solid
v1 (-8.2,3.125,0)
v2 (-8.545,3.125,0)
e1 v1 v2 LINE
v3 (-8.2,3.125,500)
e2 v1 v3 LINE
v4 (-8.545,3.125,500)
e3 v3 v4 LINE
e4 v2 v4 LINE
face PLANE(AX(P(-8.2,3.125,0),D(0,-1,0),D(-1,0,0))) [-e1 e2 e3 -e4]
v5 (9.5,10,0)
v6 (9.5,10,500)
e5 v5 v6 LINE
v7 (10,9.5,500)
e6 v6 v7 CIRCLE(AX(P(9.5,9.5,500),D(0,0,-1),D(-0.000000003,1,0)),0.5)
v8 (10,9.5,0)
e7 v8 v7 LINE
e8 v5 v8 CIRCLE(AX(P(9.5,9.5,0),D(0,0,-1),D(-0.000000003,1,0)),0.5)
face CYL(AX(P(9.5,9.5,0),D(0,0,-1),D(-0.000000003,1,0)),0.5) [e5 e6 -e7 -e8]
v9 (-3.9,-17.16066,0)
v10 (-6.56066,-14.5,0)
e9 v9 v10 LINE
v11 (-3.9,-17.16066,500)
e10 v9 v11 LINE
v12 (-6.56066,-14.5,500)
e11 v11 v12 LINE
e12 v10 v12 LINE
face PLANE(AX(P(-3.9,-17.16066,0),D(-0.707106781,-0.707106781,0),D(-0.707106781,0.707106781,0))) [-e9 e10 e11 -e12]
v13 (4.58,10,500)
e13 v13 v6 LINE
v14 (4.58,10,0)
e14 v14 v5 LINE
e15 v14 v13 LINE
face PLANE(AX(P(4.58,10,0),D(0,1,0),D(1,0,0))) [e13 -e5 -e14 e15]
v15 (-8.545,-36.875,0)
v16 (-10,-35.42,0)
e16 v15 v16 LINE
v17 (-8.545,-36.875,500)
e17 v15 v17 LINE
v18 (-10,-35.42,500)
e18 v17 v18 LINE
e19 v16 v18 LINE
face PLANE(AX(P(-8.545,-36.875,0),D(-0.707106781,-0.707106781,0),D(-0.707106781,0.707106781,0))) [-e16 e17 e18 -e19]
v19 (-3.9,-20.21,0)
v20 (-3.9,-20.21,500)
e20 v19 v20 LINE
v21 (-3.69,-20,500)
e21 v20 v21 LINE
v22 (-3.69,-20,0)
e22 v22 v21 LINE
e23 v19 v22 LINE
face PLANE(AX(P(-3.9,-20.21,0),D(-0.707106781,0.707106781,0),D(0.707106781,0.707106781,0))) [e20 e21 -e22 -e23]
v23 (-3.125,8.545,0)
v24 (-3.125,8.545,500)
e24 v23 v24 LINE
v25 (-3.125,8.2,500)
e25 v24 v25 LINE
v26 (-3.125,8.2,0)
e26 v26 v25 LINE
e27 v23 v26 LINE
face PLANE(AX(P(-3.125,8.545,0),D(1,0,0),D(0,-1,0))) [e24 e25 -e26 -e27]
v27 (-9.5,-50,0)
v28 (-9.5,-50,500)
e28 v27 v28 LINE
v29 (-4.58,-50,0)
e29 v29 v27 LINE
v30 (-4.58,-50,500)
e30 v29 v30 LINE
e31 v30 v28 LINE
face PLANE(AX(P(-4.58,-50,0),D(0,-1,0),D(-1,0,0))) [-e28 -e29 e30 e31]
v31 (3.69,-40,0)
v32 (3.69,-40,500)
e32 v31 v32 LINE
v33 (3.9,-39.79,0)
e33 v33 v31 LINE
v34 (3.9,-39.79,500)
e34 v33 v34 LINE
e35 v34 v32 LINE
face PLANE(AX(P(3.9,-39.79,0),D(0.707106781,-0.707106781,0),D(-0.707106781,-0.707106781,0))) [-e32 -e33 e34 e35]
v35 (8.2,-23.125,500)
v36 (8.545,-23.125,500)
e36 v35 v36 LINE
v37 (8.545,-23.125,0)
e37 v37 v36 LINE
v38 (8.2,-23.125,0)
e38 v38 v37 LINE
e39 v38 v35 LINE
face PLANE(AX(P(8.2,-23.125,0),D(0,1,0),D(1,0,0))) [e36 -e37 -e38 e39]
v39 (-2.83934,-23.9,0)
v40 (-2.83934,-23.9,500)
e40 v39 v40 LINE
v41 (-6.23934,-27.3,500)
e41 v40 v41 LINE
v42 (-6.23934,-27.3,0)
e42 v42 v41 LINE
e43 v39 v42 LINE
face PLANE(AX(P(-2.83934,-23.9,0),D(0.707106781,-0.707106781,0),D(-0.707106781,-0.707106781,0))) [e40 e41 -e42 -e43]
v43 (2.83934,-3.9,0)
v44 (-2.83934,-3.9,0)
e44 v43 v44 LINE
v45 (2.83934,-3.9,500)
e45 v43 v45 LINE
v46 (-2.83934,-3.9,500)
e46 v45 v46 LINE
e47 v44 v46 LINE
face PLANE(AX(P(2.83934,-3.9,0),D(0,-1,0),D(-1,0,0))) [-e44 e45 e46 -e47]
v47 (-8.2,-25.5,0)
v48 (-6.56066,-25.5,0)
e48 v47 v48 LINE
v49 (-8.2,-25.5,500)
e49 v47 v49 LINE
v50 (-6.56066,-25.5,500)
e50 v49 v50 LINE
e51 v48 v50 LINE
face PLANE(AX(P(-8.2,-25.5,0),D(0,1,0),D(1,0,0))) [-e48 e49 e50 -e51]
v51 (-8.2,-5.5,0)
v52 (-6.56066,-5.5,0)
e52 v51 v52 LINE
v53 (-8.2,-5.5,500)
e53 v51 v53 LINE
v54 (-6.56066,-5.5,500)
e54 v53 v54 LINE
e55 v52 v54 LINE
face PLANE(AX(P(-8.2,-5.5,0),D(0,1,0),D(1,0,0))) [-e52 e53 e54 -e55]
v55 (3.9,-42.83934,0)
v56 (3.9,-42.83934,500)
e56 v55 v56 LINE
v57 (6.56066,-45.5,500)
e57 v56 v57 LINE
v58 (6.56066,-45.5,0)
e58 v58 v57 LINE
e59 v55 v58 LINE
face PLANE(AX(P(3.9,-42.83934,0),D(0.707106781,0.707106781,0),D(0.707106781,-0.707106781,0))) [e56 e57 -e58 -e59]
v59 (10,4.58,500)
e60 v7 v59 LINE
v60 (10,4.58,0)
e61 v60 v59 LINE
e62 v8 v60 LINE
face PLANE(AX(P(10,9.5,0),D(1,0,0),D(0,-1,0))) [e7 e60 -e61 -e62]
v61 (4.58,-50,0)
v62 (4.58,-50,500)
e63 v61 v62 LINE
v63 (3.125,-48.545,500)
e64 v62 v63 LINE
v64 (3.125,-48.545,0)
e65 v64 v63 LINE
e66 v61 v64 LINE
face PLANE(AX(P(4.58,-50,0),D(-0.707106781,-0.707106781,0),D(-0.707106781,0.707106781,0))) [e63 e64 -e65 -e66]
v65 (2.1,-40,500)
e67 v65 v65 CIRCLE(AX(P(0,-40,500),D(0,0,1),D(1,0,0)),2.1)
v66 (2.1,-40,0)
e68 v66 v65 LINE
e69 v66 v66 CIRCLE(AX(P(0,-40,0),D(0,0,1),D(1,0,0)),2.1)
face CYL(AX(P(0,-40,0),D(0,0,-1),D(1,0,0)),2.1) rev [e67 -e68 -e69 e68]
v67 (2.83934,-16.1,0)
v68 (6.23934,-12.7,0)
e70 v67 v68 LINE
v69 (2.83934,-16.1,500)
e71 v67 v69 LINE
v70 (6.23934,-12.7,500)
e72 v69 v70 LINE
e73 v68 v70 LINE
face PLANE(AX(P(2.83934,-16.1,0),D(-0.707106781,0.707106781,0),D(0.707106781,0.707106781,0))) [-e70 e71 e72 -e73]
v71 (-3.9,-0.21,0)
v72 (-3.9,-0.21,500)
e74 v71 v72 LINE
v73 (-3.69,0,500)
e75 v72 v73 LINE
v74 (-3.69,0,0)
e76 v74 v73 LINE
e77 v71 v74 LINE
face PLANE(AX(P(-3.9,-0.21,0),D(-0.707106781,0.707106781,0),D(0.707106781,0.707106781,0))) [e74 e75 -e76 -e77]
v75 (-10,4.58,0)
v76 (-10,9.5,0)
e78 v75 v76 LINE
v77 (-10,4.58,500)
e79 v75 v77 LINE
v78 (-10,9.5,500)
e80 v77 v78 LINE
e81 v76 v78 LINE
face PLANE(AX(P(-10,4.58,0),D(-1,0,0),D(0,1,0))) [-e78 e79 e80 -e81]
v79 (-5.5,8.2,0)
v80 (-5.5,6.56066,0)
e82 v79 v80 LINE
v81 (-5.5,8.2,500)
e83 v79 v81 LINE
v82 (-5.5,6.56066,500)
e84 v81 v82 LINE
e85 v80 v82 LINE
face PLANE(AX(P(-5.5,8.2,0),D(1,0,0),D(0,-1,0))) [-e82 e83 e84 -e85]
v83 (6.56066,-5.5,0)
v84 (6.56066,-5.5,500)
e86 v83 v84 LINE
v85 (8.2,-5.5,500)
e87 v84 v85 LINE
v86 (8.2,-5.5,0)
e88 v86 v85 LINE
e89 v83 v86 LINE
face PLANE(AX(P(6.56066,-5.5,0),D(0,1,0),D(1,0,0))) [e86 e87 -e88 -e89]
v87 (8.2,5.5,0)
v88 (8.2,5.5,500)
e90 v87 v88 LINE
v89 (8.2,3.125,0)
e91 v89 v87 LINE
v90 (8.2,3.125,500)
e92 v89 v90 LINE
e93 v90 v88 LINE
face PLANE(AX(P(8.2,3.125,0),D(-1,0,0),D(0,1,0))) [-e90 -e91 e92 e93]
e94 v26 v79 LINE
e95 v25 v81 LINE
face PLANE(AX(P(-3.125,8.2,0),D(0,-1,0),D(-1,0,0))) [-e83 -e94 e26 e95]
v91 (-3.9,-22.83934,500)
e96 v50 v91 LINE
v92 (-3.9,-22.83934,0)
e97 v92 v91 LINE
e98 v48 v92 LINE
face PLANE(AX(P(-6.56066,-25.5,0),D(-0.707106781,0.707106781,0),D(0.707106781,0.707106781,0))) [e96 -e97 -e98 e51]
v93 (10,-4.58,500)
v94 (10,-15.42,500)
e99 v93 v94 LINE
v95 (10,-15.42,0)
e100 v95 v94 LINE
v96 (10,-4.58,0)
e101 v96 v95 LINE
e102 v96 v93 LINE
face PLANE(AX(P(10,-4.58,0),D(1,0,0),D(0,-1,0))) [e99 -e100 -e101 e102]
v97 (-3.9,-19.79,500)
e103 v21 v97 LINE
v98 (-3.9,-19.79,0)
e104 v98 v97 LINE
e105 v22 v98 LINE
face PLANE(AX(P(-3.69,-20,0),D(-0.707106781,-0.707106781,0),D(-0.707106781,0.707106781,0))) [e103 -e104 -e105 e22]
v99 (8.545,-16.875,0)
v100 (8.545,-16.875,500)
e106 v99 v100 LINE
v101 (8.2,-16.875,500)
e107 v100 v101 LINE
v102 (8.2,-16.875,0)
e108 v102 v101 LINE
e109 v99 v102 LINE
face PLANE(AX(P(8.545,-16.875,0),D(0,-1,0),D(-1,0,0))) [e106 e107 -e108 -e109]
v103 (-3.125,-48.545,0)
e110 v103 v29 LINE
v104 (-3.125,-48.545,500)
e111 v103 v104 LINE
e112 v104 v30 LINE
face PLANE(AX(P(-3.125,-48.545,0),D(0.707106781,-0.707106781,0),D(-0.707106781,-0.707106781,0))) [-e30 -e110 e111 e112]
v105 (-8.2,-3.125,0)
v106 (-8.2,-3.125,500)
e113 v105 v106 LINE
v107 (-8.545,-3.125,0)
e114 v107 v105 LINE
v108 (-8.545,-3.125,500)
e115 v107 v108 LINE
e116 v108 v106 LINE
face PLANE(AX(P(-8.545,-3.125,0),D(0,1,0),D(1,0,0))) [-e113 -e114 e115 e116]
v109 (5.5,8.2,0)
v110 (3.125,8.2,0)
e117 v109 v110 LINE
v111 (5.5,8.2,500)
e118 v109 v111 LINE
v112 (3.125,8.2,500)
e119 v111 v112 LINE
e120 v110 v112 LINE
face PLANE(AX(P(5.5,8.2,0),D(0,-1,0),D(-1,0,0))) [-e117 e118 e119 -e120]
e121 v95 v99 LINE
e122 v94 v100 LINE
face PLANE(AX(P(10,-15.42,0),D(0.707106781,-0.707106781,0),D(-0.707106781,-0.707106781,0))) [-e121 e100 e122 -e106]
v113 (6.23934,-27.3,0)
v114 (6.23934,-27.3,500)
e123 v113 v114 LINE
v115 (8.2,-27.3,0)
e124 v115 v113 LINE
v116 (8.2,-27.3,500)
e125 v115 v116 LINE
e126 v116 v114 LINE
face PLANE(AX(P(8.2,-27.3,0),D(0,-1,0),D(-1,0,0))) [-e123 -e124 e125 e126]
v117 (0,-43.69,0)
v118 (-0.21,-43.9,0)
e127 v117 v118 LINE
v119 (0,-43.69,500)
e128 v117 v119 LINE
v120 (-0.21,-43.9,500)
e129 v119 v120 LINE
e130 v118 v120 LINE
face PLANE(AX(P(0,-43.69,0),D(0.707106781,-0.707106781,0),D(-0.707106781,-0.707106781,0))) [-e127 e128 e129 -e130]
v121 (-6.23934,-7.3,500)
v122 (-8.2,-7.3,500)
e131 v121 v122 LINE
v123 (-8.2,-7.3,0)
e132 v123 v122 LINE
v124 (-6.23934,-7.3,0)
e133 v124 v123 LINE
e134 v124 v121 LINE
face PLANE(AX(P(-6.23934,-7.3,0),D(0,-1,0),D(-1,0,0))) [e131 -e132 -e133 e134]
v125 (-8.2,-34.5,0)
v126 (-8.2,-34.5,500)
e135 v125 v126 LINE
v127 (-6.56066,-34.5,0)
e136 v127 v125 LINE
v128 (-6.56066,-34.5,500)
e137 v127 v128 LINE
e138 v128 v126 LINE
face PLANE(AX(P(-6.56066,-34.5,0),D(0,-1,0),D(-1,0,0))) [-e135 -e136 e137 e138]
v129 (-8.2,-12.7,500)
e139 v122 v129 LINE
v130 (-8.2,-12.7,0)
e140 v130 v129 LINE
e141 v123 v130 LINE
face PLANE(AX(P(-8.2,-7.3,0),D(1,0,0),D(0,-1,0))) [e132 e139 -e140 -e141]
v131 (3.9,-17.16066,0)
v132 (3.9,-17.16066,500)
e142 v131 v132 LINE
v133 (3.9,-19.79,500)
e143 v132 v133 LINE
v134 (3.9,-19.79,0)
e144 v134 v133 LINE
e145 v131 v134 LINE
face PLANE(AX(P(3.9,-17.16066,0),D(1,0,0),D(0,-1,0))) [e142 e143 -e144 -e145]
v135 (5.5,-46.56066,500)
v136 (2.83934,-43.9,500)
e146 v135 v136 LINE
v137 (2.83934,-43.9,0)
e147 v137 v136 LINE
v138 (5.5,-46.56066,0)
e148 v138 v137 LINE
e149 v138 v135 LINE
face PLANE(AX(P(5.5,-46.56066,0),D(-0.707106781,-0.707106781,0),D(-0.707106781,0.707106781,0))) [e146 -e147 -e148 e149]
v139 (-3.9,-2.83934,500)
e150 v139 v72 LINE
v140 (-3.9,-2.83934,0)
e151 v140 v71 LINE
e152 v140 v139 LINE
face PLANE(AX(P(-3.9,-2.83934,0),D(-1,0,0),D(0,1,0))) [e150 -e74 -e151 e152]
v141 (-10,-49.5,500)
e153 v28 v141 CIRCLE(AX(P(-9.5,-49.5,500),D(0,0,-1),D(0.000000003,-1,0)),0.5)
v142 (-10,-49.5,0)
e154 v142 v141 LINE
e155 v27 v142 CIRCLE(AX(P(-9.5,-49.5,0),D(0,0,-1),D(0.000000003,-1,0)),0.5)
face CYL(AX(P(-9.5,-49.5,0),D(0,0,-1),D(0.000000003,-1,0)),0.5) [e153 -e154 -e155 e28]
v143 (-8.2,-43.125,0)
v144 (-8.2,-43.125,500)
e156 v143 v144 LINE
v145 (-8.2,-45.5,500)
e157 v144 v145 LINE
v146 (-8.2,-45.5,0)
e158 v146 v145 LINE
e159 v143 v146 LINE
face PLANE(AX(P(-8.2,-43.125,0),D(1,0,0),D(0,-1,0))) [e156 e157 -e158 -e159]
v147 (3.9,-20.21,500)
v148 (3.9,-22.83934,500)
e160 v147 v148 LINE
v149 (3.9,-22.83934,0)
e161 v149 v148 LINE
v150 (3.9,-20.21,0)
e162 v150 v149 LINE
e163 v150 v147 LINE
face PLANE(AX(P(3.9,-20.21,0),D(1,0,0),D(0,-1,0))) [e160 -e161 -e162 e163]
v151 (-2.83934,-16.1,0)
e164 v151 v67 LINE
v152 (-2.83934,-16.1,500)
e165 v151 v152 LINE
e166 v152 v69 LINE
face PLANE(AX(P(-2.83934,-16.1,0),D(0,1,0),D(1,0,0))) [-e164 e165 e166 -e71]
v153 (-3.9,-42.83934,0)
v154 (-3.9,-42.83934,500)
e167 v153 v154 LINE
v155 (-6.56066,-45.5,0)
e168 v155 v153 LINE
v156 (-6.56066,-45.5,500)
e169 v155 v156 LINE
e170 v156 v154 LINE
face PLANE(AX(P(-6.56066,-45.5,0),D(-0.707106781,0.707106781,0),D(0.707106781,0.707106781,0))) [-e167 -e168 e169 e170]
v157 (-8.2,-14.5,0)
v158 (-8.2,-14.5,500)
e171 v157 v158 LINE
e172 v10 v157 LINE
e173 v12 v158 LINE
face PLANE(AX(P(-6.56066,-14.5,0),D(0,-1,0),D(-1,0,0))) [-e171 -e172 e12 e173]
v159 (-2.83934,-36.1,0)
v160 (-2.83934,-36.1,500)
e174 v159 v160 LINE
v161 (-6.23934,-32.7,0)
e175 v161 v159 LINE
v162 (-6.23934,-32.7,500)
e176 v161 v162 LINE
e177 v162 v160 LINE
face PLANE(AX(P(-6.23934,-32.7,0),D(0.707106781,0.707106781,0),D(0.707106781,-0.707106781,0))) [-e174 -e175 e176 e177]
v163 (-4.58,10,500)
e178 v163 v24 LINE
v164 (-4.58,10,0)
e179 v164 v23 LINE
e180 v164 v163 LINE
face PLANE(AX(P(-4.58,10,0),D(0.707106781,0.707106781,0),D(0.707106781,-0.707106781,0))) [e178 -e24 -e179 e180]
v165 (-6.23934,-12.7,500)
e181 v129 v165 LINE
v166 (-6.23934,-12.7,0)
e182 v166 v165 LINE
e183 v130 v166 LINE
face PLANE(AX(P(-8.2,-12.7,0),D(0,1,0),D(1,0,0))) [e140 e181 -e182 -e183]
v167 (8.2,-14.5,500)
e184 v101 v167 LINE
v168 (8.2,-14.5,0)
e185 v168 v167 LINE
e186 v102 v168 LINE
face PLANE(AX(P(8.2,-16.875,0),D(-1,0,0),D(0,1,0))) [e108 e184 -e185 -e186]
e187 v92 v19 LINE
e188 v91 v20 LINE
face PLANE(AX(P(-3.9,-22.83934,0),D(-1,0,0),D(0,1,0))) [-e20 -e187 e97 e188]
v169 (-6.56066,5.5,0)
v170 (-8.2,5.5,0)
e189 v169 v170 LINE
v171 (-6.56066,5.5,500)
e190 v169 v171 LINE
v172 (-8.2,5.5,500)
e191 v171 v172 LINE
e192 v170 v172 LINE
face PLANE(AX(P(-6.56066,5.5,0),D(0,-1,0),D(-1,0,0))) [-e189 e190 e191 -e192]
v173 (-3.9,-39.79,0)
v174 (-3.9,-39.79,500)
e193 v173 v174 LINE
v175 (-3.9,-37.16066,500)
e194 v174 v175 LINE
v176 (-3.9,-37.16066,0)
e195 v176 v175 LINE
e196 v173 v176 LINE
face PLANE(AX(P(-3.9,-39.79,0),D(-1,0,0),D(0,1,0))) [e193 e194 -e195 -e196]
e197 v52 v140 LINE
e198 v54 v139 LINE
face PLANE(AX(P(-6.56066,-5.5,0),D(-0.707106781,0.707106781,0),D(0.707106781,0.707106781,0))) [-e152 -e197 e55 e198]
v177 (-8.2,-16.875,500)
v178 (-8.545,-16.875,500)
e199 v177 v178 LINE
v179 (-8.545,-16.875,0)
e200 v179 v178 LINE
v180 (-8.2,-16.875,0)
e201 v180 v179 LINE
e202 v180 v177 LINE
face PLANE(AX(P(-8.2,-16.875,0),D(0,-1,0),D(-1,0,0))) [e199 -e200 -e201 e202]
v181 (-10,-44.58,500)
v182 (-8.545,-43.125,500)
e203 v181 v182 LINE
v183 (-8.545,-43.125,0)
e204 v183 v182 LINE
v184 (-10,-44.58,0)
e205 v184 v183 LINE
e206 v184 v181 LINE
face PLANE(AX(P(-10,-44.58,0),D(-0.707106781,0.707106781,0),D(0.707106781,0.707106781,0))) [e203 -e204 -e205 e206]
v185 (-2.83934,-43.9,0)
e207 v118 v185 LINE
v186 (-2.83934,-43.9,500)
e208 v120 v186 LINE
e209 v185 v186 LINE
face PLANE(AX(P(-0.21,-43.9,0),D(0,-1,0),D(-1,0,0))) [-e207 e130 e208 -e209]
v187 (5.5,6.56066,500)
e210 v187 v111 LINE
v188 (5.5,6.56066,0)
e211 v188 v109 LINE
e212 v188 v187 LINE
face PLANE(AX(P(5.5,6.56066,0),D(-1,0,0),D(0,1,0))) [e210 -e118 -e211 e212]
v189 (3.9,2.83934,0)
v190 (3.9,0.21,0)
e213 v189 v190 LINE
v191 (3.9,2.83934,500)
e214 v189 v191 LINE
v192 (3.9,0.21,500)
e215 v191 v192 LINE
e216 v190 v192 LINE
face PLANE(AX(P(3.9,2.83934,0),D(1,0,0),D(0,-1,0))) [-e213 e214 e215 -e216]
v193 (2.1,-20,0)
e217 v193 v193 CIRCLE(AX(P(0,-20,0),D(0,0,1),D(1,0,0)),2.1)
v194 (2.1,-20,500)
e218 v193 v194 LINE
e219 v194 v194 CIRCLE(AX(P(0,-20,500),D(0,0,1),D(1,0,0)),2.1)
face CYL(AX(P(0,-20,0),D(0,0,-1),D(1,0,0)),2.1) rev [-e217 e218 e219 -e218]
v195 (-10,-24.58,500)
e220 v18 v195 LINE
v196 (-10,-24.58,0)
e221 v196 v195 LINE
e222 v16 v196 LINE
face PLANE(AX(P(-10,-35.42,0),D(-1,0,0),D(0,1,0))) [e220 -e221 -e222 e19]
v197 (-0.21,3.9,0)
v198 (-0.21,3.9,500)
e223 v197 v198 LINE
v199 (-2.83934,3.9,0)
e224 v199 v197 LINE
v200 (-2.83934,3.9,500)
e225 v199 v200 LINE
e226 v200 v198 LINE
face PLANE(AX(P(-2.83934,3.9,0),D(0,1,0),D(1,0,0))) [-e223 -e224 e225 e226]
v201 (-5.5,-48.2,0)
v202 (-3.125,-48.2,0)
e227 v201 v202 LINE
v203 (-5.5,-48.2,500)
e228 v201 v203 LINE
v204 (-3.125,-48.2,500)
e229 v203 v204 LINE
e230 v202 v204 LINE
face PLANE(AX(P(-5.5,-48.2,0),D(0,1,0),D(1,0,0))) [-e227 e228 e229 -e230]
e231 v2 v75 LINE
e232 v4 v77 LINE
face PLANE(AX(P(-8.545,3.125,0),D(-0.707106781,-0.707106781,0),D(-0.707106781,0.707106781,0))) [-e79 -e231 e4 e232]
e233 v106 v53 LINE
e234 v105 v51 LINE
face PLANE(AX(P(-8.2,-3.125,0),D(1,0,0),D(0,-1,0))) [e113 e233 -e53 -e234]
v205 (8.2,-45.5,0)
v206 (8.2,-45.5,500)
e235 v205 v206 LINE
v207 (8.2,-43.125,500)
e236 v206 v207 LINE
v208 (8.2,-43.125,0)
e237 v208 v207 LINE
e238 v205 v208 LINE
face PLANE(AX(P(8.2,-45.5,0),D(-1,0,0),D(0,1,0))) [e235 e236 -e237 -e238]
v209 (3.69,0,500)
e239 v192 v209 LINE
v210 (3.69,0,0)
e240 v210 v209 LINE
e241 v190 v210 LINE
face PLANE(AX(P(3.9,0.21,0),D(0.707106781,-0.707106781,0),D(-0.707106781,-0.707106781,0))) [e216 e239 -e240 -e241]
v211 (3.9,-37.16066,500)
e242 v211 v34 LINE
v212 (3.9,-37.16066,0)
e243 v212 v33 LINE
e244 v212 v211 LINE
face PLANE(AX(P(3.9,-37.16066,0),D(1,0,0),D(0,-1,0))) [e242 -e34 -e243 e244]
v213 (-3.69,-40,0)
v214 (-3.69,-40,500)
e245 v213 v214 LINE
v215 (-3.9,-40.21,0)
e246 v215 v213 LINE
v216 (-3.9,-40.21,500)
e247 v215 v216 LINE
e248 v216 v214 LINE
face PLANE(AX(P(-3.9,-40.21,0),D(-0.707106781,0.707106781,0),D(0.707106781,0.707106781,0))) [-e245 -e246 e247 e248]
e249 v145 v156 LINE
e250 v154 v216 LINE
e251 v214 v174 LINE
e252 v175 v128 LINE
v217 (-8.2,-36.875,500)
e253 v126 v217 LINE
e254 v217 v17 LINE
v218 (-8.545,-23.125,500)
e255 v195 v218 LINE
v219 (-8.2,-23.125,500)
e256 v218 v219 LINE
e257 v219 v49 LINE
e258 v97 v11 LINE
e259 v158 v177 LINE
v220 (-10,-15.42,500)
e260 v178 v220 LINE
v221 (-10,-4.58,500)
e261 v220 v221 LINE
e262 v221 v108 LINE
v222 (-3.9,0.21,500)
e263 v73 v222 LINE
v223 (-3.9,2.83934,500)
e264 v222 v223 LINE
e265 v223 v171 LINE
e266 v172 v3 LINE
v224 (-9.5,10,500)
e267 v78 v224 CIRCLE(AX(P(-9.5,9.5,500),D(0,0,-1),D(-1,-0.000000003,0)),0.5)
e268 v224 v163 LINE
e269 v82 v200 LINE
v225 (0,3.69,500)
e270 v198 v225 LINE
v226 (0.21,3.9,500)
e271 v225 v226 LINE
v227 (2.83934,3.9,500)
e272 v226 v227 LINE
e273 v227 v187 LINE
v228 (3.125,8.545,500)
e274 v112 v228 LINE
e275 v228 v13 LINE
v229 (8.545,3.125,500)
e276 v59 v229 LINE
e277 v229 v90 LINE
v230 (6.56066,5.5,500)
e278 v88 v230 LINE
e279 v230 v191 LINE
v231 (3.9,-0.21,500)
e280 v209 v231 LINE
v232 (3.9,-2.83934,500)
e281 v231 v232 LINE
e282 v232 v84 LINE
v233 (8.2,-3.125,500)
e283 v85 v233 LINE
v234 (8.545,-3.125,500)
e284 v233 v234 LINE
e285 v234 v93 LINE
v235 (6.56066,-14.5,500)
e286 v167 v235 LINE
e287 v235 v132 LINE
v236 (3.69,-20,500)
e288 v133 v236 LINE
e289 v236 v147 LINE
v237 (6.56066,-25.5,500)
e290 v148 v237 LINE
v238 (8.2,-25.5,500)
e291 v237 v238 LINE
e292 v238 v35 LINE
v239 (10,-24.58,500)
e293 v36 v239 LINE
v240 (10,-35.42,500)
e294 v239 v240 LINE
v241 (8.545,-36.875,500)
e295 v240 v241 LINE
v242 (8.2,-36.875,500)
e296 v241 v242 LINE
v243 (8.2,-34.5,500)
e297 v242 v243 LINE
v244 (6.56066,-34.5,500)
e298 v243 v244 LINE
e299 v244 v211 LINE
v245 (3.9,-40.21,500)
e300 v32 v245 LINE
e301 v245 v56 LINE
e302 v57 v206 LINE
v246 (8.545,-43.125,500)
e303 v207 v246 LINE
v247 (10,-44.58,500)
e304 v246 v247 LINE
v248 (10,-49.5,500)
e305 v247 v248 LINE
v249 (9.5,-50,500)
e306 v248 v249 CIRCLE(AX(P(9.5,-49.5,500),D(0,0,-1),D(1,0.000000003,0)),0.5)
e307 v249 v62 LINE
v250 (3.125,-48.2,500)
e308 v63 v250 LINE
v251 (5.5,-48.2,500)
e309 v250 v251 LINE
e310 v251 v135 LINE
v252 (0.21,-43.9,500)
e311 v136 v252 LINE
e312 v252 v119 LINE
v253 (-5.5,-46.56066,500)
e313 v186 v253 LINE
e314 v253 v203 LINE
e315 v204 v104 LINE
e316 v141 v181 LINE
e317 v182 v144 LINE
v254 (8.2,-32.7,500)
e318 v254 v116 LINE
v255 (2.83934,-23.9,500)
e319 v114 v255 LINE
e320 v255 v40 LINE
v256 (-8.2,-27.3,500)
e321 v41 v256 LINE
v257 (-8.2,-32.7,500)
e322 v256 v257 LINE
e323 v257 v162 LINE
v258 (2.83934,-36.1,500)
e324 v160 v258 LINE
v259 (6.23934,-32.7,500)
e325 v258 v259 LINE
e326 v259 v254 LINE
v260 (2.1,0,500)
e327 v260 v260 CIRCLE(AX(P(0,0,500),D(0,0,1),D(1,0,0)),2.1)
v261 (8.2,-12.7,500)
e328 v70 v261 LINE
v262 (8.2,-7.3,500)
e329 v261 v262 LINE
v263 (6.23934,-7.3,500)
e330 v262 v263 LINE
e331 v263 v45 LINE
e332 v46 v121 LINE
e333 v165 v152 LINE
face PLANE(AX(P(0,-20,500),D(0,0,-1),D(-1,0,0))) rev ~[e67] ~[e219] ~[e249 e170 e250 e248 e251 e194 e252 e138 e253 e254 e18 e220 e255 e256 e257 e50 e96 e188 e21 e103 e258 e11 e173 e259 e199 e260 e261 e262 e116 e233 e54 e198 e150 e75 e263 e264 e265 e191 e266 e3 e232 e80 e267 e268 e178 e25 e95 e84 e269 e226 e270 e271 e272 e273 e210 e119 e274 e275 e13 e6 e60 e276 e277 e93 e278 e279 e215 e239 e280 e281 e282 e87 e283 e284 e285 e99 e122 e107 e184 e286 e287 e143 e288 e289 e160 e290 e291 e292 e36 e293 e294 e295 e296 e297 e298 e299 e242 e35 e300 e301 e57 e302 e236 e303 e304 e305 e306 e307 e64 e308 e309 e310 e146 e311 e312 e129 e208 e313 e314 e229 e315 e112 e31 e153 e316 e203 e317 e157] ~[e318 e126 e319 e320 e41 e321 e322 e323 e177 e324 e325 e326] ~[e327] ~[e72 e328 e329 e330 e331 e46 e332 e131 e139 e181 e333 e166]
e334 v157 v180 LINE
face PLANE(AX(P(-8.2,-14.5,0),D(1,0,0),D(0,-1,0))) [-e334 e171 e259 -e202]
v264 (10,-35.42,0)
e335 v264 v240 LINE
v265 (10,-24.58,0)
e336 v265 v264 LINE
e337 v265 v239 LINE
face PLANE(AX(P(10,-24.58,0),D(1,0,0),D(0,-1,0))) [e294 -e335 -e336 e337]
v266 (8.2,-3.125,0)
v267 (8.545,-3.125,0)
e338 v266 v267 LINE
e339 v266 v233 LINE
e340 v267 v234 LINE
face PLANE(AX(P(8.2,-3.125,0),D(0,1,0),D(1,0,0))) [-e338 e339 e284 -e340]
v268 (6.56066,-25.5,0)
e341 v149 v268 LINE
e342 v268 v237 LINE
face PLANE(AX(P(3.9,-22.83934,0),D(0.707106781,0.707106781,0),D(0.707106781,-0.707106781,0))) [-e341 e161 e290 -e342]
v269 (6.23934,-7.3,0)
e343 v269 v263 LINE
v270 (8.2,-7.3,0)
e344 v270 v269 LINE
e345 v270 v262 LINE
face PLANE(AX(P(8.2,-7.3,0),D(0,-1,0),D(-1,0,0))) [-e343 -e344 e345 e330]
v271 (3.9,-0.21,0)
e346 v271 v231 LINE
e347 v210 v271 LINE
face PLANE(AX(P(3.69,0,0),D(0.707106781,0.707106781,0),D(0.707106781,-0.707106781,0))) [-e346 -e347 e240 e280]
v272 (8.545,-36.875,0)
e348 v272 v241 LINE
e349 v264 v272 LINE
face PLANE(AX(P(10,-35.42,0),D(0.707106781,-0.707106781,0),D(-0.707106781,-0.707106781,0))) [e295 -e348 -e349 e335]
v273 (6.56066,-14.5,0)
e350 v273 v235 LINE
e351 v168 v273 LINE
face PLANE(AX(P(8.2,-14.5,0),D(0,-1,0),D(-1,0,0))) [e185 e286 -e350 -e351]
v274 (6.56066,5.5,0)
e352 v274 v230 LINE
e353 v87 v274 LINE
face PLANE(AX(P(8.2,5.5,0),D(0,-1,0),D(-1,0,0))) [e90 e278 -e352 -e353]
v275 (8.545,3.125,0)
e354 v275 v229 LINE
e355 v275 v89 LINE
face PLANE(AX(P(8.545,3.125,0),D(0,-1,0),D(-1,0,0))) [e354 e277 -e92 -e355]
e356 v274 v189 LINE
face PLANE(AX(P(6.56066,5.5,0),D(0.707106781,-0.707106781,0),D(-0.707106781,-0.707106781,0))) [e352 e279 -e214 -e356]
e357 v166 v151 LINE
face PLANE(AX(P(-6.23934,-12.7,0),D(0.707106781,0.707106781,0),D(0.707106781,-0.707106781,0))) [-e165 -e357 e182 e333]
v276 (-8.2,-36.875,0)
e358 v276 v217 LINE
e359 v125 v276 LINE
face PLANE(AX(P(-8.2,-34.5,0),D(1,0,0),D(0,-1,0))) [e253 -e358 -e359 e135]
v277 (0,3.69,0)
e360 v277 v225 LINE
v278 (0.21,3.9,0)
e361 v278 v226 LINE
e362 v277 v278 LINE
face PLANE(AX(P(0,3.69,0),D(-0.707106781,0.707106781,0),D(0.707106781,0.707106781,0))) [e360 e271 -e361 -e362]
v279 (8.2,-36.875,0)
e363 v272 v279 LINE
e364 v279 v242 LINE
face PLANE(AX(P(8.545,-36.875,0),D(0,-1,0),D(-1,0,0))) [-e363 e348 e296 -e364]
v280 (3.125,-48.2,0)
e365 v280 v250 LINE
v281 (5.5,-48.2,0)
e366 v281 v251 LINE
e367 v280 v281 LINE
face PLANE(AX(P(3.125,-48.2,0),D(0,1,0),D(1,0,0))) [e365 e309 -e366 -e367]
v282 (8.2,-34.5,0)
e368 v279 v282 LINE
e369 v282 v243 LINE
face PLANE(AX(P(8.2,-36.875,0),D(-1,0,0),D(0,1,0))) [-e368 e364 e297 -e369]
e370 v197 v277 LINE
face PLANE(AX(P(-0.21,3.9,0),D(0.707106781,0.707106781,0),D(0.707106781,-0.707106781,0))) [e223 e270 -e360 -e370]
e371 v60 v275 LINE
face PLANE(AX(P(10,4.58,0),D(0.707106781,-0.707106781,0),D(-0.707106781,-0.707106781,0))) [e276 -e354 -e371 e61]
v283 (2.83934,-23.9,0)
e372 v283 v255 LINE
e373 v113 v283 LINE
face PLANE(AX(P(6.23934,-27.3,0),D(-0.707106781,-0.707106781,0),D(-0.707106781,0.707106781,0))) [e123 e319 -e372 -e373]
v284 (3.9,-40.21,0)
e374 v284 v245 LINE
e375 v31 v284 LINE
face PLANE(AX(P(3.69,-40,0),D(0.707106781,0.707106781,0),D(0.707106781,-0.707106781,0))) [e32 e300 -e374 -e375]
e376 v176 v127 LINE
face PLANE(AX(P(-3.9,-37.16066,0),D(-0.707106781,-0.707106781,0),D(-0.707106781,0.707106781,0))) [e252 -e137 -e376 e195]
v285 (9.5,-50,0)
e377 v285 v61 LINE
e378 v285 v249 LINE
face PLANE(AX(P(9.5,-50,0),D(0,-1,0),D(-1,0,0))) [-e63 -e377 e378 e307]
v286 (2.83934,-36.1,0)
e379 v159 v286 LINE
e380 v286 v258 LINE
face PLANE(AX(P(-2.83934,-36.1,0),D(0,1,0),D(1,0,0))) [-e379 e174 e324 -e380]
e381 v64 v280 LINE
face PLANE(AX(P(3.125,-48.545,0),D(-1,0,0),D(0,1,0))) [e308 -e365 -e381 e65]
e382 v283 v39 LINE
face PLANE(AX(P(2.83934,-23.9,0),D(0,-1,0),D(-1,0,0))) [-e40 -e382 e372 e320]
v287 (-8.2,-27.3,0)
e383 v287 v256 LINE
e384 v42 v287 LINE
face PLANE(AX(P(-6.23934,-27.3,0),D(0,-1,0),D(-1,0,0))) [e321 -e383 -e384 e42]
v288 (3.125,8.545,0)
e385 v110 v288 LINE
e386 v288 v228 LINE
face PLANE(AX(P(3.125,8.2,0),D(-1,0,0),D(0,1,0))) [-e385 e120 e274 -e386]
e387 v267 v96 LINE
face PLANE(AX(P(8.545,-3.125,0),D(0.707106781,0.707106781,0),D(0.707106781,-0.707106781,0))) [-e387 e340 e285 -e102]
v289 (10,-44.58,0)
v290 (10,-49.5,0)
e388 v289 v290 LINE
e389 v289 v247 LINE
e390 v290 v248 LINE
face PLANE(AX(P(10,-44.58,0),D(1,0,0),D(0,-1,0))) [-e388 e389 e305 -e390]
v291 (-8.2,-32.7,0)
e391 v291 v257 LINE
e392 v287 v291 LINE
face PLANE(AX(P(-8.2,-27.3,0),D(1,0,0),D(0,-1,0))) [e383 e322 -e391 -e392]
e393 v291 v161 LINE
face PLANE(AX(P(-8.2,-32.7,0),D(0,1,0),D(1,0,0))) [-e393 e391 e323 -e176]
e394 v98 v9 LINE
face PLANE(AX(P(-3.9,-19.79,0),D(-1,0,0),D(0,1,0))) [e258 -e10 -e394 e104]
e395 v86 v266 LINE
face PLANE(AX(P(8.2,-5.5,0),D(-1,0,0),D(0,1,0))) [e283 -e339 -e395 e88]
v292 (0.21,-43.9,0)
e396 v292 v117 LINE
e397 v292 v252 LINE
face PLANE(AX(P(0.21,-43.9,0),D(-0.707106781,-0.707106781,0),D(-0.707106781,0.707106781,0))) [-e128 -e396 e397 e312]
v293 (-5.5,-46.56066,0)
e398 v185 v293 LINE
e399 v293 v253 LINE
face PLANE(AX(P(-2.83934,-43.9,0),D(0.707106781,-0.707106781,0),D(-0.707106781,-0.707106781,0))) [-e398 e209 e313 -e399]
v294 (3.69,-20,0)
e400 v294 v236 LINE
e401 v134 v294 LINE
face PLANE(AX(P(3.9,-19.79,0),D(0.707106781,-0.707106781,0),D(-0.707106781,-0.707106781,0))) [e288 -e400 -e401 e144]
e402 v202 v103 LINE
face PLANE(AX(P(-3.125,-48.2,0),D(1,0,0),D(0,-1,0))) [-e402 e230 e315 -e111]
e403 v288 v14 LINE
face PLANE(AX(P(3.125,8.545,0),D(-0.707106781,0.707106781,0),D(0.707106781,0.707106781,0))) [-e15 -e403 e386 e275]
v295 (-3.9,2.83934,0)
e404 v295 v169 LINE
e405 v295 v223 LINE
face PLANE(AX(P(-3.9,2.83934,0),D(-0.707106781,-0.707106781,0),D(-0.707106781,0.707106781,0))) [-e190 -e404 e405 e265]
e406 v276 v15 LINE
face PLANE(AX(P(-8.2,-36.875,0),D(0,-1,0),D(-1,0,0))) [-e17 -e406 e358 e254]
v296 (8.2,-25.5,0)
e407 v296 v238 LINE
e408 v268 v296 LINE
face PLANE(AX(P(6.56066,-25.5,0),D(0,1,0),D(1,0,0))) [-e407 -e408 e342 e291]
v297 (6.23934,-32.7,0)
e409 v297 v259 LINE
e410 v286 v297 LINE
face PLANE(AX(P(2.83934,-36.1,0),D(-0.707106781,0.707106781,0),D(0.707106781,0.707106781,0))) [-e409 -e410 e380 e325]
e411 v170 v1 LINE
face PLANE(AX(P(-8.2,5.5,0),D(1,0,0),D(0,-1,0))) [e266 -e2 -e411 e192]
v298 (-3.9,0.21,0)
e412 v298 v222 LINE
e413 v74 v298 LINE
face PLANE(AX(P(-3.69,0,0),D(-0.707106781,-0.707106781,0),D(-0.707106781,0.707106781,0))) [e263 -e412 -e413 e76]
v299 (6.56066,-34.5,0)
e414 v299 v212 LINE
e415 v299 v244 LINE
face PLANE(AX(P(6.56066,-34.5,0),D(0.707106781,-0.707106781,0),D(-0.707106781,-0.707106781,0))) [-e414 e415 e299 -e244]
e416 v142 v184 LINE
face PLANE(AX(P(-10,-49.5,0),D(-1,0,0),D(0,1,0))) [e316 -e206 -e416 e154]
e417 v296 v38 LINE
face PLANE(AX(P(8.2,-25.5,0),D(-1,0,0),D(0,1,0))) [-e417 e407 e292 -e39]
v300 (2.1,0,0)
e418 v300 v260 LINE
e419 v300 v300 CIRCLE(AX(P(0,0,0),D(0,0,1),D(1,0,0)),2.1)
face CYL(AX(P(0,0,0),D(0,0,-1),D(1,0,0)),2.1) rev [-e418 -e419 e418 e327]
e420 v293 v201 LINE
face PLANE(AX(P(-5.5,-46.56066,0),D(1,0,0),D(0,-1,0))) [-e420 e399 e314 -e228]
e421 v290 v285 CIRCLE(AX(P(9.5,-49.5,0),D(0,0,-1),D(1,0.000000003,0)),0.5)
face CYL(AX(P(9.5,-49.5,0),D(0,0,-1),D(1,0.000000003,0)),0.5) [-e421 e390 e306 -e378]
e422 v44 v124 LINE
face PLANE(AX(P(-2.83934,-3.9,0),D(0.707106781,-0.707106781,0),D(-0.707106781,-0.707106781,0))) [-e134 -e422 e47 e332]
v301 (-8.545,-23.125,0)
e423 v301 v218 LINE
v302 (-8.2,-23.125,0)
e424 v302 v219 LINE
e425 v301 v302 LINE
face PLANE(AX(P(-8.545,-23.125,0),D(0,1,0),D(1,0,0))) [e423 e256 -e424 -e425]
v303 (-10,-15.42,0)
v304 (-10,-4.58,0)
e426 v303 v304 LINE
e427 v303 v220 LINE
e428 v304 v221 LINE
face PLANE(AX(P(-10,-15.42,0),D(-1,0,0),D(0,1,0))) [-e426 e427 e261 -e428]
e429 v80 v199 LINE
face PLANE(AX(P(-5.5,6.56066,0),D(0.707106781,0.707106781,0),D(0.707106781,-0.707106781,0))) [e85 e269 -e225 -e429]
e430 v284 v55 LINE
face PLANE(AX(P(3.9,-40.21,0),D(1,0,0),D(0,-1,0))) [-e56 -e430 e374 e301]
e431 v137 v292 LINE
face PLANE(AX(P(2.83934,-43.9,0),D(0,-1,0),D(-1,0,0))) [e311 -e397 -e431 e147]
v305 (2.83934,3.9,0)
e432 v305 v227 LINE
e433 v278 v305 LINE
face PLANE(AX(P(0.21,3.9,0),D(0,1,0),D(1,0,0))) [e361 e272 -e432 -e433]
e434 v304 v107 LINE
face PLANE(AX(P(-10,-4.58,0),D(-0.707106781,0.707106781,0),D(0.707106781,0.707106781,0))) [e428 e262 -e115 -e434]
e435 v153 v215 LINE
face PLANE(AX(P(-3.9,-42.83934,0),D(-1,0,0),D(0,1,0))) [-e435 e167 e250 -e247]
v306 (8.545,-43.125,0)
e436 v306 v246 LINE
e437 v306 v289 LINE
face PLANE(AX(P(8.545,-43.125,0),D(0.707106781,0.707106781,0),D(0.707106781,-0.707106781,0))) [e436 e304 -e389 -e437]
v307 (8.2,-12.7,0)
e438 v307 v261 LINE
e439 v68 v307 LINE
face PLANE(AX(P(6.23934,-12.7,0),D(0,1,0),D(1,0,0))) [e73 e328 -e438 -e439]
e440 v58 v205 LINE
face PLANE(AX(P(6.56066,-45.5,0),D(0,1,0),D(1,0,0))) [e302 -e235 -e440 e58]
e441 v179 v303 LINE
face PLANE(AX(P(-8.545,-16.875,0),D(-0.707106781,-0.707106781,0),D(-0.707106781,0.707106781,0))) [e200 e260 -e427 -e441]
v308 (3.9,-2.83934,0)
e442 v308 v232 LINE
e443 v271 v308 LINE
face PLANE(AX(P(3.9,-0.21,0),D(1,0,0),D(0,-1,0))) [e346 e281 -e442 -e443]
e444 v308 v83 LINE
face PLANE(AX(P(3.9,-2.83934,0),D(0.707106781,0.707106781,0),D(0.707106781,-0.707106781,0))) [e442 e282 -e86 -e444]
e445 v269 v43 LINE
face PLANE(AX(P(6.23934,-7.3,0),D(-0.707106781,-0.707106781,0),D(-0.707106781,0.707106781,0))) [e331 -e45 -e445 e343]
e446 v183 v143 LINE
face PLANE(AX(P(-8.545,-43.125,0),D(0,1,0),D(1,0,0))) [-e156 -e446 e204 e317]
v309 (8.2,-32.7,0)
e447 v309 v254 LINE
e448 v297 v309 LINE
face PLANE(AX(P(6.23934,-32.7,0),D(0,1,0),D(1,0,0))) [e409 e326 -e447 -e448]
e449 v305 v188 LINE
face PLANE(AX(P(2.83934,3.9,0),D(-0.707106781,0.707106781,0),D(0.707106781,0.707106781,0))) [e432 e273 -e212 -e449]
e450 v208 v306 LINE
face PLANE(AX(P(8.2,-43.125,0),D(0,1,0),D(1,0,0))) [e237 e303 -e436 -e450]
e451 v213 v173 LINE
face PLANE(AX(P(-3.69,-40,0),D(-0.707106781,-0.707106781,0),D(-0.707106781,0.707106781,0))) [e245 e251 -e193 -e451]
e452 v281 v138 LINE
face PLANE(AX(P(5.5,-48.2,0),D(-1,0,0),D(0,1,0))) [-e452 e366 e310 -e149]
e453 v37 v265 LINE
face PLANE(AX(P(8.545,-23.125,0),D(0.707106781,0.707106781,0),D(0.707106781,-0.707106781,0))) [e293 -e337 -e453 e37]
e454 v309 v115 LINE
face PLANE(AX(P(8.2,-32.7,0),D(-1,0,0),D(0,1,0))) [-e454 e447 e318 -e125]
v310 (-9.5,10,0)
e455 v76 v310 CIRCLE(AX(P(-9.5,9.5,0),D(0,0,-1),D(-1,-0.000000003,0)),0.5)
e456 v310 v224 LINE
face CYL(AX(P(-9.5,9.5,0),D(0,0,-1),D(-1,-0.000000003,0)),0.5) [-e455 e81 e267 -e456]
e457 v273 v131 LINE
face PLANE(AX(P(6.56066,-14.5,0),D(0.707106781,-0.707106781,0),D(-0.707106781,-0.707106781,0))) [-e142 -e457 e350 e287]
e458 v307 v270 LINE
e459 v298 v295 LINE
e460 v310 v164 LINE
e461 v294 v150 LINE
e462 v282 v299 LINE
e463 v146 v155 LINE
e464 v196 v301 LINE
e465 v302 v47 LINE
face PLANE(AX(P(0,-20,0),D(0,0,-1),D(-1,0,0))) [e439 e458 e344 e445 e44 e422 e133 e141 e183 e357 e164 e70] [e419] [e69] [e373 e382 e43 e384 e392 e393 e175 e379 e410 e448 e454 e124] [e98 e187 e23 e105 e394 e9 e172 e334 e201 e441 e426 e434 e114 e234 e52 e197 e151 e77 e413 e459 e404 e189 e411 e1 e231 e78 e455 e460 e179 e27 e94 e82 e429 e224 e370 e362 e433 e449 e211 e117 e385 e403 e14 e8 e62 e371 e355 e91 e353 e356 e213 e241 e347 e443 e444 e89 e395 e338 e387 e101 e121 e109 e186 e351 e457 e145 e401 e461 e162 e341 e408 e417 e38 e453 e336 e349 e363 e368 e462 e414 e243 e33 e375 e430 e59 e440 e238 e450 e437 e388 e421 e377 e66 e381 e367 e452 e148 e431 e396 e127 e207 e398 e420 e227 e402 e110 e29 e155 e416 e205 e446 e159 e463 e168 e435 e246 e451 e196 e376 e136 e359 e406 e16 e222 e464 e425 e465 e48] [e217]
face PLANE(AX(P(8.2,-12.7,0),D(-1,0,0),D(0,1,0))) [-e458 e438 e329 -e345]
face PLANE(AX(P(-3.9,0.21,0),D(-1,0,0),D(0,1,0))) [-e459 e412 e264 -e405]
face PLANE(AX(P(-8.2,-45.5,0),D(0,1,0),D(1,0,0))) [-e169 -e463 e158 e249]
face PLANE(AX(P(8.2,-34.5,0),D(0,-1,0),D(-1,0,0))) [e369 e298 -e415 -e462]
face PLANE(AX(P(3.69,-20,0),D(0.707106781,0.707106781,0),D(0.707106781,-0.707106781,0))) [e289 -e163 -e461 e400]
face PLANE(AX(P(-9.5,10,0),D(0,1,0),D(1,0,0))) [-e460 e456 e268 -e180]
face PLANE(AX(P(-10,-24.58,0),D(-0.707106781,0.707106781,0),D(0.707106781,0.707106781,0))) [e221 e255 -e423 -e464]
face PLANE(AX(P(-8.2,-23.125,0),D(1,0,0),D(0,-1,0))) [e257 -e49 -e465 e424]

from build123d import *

# Parameters (mm, degrees)
SKETCH1_R           = 2.1
BOSS_EXTRUDE1_DEPTH = 500


with BuildPart() as part:
    # Sketch1 → Boss-Extrude1 (new body)
    with BuildSketch(Plane.XY):
        with BuildLine():
            Line((3.69, 0), (3.9, -0.21))
            Line((3.9, -0.21), (3.9, -2.839339828))
            Line((3.9, -2.839339828), (6.560660172, -5.5))
            Line((6.560660172, -5.5), (8.2, -5.5))
            Line((8.2, -5.5), (8.2, -3.125))
            Line((8.2, -3.125), (8.545, -3.125))
            Line((8.545, -3.125), (10, -4.58))
            Line((10, -4.58), (10, -15.42))
            Line((10, -15.42), (8.545, -16.875))
            Line((8.545, -16.875), (8.2, -16.875))
            Line((8.2, -16.875), (8.2, -14.5))
            Line((8.2, -14.5), (6.560660172, -14.5))
            Line((6.560660172, -14.5), (3.9, -17.160660172))
            Line((3.9, -17.160660172), (3.9, -19.79))
            Line((3.9, -19.79), (3.69, -20))
            Line((3.69, -20), (3.9, -20.21))
            Line((3.9, -20.21), (3.9, -22.839339828))
            Line((3.9, -22.839339828), (6.560660172, -25.5))
            Line((6.560660172, -25.5), (8.2, -25.5))
            Line((8.2, -25.5), (8.2, -23.125))
            Line((8.2, -23.125), (8.545, -23.125))
            Line((8.545, -23.125), (10, -24.58))
            Line((10, -24.58), (10, -35.42))
            Line((10, -35.42), (8.545, -36.875))
            Line((8.545, -36.875), (8.2, -36.875))
            Line((8.2, -36.875), (8.2, -34.5))
            Line((8.2, -34.5), (6.560660172, -34.5))
            Line((6.560660172, -34.5), (3.9, -37.160660172))
            Line((3.9, -37.160660172), (3.9, -39.79))
            Line((3.9, -39.79), (3.69, -40))
            Line((3.69, -40), (3.9, -40.21))
            Line((3.9, -40.21), (3.9, -42.839339828))
            Line((3.9, -42.839339828), (6.560660172, -45.5))
            Line((6.560660172, -45.5), (8.2, -45.5))
            Line((8.2, -45.5), (8.2, -43.125))
            Line((8.2, -43.125), (8.545, -43.125))
            Line((8.545, -43.125), (10, -44.58))
            Line((10, -44.58), (10, -49.5))
            ThreePointArc((10, -49.5), (9.853553391, -49.853553391), (9.5, -50))
            Line((9.5, -50), (4.58, -50))
            Line((4.58, -50), (3.125, -48.545))
            Line((3.125, -48.545), (3.125, -48.2))
            Line((3.125, -48.2), (5.5, -48.2))
            Line((5.5, -48.2), (5.5, -46.560660172))
            Line((5.5, -46.560660172), (2.839339828, -43.9))
            Line((2.839339828, -43.9), (0.21, -43.9))
            Line((0.21, -43.9), (0, -43.69))
            Line((0, -43.69), (-0.21, -43.9))
            Line((-0.21, -43.9), (-2.839339828, -43.9))
            Line((-2.839339828, -43.9), (-5.5, -46.560660172))
            Line((-5.5, -46.560660172), (-5.5, -48.2))
            Line((-5.5, -48.2), (-3.125, -48.2))
            Line((-3.125, -48.2), (-3.125, -48.545))
            Line((-3.125, -48.545), (-4.58, -50))
            Line((-4.58, -50), (-9.5, -50))
            ThreePointArc((-9.5, -50), (-9.853553391, -49.853553391), (-10, -49.5))
            Line((-10, -49.5), (-10, -44.58))
            Line((-10, -44.58), (-8.545, -43.125))
            Line((-8.545, -43.125), (-8.2, -43.125))
            Line((-8.2, -43.125), (-8.2, -45.5))
            Line((-8.2, -45.5), (-6.560660172, -45.5))
            Line((-6.560660172, -45.5), (-3.9, -42.839339828))
            Line((-3.9, -42.839339828), (-3.9, -40.21))
            Line((-3.9, -40.21), (-3.69, -40))
            Line((-3.69, -40), (-3.9, -39.79))
            Line((-3.9, -39.79), (-3.9, -37.160660172))
            Line((-3.9, -37.160660172), (-6.560660172, -34.5))
            Line((-6.560660172, -34.5), (-8.2, -34.5))
            Line((-8.2, -34.5), (-8.2, -36.875))
            Line((-8.2, -36.875), (-8.545, -36.875))
            Line((-8.545, -36.875), (-10, -35.42))
            Line((-10, -35.42), (-10, -24.58))
            Line((-10, -24.58), (-8.545, -23.125))
            Line((-8.545, -23.125), (-8.2, -23.125))
            Line((-8.2, -23.125), (-8.2, -25.5))
            Line((-8.2, -25.5), (-6.560660172, -25.5))
            Line((-6.560660172, -25.5), (-3.9, -22.839339828))
            Line((-3.9, -22.839339828), (-3.9, -20.21))
            Line((-3.9, -20.21), (-3.69, -20))
            Line((-3.69, -20), (-3.9, -19.79))
            Line((-3.9, -19.79), (-3.9, -17.160660172))
            Line((-3.9, -17.160660172), (-6.560660172, -14.5))
            Line((-6.560660172, -14.5), (-8.2, -14.5))
            Line((-8.2, -14.5), (-8.2, -16.875))
            Line((-8.2, -16.875), (-8.545, -16.875))
            Line((-8.545, -16.875), (-10, -15.42))
            Line((-10, -15.42), (-10, -4.58))
            Line((-10, -4.58), (-8.545, -3.125))
            Line((-8.545, -3.125), (-8.2, -3.125))
            Line((-8.2, -3.125), (-8.2, -5.5))
            Line((-8.2, -5.5), (-6.560660172, -5.5))
            Line((-6.560660172, -5.5), (-3.9, -2.839339828))
            Line((-3.9, -2.839339828), (-3.9, -0.21))
            Line((-3.9, -0.21), (-3.69, 0))
            Line((-3.69, 0), (-3.9, 0.21))
            Line((-3.9, 0.21), (-3.9, 2.839339828))
            Line((-3.9, 2.839339828), (-6.560660172, 5.5))
            Line((-6.560660172, 5.5), (-8.2, 5.5))
            Line((-8.2, 5.5), (-8.2, 3.125))
            Line((-8.2, 3.125), (-8.545, 3.125))
            Line((-8.545, 3.125), (-10, 4.58))
            Line((-10, 4.58), (-10, 9.5))
            ThreePointArc((-10, 9.5), (-9.853553391, 9.853553391), (-9.5, 10))
            Line((-9.5, 10), (-4.58, 10))
            Line((-4.58, 10), (-3.125, 8.545))
            Line((-3.125, 8.545), (-3.125, 8.2))
            Line((-3.125, 8.2), (-5.5, 8.2))
            Line((-5.5, 8.2), (-5.5, 6.560660172))
            Line((-5.5, 6.560660172), (-2.839339828, 3.9))
            Line((-2.839339828, 3.9), (-0.21, 3.9))
            Line((-0.21, 3.9), (0, 3.69))
            Line((0, 3.69), (0.21, 3.9))
            Line((0.21, 3.9), (2.839339828, 3.9))
            Line((2.839339828, 3.9), (5.5, 6.560660172))
            Line((5.5, 6.560660172), (5.5, 8.2))
            Line((5.5, 8.2), (3.125, 8.2))
            Line((3.125, 8.2), (3.125, 8.545))
            Line((3.125, 8.545), (4.58, 10))
            Line((4.58, 10), (9.5, 10))
            ThreePointArc((9.5, 10), (9.853553391, 9.853553391), (10, 9.5))
            Line((10, 9.5), (10, 4.58))
            Line((10, 4.58), (8.545, 3.125))
            Line((8.545, 3.125), (8.2, 3.125))
            Line((8.2, 3.125), (8.2, 5.5))
            Line((8.2, 5.5), (6.560660172, 5.5))
            Line((6.560660172, 5.5), (3.9, 2.839339828))
            Line((3.9, 2.839339828), (3.9, 0.21))
            Line((3.9, 0.21), (3.69, 0))
        make_face()
        with Locations((0, -40)):
            Circle(SKETCH1_R, mode=Mode.SUBTRACT)
        with Locations((0, -20)):
            Circle(SKETCH1_R, mode=Mode.SUBTRACT)
        Circle(SKETCH1_R, mode=Mode.SUBTRACT)
        Polygon((-8.2, -32.7), (-6.239339828, -32.7), (-2.839339828, -36.1), (2.839339828, -36.1), (6.239339828, -32.7), (8.2, -32.7), (8.2, -27.3), (6.239339828, -27.3), (2.839339828, -23.9), (-2.839339828, -23.9), (-6.239339828, -27.3), (-8.2, -27.3), align=None, mode=Mode.SUBTRACT)
        Polygon((-8.2, -12.7), (-6.239339828, -12.7), (-2.839339828, -16.1), (2.839339828, -16.1), (6.239339828, -12.7), (8.2, -12.7), (8.2, -7.3), (6.239339828, -7.3), (2.839339828, -3.9), (-2.839339828, -3.9), (-6.239339828, -7.3), (-8.2, -7.3), align=None, mode=Mode.SUBTRACT)
    extrude(amount=BOSS_EXTRUDE1_DEPTH)


solid = part.part
